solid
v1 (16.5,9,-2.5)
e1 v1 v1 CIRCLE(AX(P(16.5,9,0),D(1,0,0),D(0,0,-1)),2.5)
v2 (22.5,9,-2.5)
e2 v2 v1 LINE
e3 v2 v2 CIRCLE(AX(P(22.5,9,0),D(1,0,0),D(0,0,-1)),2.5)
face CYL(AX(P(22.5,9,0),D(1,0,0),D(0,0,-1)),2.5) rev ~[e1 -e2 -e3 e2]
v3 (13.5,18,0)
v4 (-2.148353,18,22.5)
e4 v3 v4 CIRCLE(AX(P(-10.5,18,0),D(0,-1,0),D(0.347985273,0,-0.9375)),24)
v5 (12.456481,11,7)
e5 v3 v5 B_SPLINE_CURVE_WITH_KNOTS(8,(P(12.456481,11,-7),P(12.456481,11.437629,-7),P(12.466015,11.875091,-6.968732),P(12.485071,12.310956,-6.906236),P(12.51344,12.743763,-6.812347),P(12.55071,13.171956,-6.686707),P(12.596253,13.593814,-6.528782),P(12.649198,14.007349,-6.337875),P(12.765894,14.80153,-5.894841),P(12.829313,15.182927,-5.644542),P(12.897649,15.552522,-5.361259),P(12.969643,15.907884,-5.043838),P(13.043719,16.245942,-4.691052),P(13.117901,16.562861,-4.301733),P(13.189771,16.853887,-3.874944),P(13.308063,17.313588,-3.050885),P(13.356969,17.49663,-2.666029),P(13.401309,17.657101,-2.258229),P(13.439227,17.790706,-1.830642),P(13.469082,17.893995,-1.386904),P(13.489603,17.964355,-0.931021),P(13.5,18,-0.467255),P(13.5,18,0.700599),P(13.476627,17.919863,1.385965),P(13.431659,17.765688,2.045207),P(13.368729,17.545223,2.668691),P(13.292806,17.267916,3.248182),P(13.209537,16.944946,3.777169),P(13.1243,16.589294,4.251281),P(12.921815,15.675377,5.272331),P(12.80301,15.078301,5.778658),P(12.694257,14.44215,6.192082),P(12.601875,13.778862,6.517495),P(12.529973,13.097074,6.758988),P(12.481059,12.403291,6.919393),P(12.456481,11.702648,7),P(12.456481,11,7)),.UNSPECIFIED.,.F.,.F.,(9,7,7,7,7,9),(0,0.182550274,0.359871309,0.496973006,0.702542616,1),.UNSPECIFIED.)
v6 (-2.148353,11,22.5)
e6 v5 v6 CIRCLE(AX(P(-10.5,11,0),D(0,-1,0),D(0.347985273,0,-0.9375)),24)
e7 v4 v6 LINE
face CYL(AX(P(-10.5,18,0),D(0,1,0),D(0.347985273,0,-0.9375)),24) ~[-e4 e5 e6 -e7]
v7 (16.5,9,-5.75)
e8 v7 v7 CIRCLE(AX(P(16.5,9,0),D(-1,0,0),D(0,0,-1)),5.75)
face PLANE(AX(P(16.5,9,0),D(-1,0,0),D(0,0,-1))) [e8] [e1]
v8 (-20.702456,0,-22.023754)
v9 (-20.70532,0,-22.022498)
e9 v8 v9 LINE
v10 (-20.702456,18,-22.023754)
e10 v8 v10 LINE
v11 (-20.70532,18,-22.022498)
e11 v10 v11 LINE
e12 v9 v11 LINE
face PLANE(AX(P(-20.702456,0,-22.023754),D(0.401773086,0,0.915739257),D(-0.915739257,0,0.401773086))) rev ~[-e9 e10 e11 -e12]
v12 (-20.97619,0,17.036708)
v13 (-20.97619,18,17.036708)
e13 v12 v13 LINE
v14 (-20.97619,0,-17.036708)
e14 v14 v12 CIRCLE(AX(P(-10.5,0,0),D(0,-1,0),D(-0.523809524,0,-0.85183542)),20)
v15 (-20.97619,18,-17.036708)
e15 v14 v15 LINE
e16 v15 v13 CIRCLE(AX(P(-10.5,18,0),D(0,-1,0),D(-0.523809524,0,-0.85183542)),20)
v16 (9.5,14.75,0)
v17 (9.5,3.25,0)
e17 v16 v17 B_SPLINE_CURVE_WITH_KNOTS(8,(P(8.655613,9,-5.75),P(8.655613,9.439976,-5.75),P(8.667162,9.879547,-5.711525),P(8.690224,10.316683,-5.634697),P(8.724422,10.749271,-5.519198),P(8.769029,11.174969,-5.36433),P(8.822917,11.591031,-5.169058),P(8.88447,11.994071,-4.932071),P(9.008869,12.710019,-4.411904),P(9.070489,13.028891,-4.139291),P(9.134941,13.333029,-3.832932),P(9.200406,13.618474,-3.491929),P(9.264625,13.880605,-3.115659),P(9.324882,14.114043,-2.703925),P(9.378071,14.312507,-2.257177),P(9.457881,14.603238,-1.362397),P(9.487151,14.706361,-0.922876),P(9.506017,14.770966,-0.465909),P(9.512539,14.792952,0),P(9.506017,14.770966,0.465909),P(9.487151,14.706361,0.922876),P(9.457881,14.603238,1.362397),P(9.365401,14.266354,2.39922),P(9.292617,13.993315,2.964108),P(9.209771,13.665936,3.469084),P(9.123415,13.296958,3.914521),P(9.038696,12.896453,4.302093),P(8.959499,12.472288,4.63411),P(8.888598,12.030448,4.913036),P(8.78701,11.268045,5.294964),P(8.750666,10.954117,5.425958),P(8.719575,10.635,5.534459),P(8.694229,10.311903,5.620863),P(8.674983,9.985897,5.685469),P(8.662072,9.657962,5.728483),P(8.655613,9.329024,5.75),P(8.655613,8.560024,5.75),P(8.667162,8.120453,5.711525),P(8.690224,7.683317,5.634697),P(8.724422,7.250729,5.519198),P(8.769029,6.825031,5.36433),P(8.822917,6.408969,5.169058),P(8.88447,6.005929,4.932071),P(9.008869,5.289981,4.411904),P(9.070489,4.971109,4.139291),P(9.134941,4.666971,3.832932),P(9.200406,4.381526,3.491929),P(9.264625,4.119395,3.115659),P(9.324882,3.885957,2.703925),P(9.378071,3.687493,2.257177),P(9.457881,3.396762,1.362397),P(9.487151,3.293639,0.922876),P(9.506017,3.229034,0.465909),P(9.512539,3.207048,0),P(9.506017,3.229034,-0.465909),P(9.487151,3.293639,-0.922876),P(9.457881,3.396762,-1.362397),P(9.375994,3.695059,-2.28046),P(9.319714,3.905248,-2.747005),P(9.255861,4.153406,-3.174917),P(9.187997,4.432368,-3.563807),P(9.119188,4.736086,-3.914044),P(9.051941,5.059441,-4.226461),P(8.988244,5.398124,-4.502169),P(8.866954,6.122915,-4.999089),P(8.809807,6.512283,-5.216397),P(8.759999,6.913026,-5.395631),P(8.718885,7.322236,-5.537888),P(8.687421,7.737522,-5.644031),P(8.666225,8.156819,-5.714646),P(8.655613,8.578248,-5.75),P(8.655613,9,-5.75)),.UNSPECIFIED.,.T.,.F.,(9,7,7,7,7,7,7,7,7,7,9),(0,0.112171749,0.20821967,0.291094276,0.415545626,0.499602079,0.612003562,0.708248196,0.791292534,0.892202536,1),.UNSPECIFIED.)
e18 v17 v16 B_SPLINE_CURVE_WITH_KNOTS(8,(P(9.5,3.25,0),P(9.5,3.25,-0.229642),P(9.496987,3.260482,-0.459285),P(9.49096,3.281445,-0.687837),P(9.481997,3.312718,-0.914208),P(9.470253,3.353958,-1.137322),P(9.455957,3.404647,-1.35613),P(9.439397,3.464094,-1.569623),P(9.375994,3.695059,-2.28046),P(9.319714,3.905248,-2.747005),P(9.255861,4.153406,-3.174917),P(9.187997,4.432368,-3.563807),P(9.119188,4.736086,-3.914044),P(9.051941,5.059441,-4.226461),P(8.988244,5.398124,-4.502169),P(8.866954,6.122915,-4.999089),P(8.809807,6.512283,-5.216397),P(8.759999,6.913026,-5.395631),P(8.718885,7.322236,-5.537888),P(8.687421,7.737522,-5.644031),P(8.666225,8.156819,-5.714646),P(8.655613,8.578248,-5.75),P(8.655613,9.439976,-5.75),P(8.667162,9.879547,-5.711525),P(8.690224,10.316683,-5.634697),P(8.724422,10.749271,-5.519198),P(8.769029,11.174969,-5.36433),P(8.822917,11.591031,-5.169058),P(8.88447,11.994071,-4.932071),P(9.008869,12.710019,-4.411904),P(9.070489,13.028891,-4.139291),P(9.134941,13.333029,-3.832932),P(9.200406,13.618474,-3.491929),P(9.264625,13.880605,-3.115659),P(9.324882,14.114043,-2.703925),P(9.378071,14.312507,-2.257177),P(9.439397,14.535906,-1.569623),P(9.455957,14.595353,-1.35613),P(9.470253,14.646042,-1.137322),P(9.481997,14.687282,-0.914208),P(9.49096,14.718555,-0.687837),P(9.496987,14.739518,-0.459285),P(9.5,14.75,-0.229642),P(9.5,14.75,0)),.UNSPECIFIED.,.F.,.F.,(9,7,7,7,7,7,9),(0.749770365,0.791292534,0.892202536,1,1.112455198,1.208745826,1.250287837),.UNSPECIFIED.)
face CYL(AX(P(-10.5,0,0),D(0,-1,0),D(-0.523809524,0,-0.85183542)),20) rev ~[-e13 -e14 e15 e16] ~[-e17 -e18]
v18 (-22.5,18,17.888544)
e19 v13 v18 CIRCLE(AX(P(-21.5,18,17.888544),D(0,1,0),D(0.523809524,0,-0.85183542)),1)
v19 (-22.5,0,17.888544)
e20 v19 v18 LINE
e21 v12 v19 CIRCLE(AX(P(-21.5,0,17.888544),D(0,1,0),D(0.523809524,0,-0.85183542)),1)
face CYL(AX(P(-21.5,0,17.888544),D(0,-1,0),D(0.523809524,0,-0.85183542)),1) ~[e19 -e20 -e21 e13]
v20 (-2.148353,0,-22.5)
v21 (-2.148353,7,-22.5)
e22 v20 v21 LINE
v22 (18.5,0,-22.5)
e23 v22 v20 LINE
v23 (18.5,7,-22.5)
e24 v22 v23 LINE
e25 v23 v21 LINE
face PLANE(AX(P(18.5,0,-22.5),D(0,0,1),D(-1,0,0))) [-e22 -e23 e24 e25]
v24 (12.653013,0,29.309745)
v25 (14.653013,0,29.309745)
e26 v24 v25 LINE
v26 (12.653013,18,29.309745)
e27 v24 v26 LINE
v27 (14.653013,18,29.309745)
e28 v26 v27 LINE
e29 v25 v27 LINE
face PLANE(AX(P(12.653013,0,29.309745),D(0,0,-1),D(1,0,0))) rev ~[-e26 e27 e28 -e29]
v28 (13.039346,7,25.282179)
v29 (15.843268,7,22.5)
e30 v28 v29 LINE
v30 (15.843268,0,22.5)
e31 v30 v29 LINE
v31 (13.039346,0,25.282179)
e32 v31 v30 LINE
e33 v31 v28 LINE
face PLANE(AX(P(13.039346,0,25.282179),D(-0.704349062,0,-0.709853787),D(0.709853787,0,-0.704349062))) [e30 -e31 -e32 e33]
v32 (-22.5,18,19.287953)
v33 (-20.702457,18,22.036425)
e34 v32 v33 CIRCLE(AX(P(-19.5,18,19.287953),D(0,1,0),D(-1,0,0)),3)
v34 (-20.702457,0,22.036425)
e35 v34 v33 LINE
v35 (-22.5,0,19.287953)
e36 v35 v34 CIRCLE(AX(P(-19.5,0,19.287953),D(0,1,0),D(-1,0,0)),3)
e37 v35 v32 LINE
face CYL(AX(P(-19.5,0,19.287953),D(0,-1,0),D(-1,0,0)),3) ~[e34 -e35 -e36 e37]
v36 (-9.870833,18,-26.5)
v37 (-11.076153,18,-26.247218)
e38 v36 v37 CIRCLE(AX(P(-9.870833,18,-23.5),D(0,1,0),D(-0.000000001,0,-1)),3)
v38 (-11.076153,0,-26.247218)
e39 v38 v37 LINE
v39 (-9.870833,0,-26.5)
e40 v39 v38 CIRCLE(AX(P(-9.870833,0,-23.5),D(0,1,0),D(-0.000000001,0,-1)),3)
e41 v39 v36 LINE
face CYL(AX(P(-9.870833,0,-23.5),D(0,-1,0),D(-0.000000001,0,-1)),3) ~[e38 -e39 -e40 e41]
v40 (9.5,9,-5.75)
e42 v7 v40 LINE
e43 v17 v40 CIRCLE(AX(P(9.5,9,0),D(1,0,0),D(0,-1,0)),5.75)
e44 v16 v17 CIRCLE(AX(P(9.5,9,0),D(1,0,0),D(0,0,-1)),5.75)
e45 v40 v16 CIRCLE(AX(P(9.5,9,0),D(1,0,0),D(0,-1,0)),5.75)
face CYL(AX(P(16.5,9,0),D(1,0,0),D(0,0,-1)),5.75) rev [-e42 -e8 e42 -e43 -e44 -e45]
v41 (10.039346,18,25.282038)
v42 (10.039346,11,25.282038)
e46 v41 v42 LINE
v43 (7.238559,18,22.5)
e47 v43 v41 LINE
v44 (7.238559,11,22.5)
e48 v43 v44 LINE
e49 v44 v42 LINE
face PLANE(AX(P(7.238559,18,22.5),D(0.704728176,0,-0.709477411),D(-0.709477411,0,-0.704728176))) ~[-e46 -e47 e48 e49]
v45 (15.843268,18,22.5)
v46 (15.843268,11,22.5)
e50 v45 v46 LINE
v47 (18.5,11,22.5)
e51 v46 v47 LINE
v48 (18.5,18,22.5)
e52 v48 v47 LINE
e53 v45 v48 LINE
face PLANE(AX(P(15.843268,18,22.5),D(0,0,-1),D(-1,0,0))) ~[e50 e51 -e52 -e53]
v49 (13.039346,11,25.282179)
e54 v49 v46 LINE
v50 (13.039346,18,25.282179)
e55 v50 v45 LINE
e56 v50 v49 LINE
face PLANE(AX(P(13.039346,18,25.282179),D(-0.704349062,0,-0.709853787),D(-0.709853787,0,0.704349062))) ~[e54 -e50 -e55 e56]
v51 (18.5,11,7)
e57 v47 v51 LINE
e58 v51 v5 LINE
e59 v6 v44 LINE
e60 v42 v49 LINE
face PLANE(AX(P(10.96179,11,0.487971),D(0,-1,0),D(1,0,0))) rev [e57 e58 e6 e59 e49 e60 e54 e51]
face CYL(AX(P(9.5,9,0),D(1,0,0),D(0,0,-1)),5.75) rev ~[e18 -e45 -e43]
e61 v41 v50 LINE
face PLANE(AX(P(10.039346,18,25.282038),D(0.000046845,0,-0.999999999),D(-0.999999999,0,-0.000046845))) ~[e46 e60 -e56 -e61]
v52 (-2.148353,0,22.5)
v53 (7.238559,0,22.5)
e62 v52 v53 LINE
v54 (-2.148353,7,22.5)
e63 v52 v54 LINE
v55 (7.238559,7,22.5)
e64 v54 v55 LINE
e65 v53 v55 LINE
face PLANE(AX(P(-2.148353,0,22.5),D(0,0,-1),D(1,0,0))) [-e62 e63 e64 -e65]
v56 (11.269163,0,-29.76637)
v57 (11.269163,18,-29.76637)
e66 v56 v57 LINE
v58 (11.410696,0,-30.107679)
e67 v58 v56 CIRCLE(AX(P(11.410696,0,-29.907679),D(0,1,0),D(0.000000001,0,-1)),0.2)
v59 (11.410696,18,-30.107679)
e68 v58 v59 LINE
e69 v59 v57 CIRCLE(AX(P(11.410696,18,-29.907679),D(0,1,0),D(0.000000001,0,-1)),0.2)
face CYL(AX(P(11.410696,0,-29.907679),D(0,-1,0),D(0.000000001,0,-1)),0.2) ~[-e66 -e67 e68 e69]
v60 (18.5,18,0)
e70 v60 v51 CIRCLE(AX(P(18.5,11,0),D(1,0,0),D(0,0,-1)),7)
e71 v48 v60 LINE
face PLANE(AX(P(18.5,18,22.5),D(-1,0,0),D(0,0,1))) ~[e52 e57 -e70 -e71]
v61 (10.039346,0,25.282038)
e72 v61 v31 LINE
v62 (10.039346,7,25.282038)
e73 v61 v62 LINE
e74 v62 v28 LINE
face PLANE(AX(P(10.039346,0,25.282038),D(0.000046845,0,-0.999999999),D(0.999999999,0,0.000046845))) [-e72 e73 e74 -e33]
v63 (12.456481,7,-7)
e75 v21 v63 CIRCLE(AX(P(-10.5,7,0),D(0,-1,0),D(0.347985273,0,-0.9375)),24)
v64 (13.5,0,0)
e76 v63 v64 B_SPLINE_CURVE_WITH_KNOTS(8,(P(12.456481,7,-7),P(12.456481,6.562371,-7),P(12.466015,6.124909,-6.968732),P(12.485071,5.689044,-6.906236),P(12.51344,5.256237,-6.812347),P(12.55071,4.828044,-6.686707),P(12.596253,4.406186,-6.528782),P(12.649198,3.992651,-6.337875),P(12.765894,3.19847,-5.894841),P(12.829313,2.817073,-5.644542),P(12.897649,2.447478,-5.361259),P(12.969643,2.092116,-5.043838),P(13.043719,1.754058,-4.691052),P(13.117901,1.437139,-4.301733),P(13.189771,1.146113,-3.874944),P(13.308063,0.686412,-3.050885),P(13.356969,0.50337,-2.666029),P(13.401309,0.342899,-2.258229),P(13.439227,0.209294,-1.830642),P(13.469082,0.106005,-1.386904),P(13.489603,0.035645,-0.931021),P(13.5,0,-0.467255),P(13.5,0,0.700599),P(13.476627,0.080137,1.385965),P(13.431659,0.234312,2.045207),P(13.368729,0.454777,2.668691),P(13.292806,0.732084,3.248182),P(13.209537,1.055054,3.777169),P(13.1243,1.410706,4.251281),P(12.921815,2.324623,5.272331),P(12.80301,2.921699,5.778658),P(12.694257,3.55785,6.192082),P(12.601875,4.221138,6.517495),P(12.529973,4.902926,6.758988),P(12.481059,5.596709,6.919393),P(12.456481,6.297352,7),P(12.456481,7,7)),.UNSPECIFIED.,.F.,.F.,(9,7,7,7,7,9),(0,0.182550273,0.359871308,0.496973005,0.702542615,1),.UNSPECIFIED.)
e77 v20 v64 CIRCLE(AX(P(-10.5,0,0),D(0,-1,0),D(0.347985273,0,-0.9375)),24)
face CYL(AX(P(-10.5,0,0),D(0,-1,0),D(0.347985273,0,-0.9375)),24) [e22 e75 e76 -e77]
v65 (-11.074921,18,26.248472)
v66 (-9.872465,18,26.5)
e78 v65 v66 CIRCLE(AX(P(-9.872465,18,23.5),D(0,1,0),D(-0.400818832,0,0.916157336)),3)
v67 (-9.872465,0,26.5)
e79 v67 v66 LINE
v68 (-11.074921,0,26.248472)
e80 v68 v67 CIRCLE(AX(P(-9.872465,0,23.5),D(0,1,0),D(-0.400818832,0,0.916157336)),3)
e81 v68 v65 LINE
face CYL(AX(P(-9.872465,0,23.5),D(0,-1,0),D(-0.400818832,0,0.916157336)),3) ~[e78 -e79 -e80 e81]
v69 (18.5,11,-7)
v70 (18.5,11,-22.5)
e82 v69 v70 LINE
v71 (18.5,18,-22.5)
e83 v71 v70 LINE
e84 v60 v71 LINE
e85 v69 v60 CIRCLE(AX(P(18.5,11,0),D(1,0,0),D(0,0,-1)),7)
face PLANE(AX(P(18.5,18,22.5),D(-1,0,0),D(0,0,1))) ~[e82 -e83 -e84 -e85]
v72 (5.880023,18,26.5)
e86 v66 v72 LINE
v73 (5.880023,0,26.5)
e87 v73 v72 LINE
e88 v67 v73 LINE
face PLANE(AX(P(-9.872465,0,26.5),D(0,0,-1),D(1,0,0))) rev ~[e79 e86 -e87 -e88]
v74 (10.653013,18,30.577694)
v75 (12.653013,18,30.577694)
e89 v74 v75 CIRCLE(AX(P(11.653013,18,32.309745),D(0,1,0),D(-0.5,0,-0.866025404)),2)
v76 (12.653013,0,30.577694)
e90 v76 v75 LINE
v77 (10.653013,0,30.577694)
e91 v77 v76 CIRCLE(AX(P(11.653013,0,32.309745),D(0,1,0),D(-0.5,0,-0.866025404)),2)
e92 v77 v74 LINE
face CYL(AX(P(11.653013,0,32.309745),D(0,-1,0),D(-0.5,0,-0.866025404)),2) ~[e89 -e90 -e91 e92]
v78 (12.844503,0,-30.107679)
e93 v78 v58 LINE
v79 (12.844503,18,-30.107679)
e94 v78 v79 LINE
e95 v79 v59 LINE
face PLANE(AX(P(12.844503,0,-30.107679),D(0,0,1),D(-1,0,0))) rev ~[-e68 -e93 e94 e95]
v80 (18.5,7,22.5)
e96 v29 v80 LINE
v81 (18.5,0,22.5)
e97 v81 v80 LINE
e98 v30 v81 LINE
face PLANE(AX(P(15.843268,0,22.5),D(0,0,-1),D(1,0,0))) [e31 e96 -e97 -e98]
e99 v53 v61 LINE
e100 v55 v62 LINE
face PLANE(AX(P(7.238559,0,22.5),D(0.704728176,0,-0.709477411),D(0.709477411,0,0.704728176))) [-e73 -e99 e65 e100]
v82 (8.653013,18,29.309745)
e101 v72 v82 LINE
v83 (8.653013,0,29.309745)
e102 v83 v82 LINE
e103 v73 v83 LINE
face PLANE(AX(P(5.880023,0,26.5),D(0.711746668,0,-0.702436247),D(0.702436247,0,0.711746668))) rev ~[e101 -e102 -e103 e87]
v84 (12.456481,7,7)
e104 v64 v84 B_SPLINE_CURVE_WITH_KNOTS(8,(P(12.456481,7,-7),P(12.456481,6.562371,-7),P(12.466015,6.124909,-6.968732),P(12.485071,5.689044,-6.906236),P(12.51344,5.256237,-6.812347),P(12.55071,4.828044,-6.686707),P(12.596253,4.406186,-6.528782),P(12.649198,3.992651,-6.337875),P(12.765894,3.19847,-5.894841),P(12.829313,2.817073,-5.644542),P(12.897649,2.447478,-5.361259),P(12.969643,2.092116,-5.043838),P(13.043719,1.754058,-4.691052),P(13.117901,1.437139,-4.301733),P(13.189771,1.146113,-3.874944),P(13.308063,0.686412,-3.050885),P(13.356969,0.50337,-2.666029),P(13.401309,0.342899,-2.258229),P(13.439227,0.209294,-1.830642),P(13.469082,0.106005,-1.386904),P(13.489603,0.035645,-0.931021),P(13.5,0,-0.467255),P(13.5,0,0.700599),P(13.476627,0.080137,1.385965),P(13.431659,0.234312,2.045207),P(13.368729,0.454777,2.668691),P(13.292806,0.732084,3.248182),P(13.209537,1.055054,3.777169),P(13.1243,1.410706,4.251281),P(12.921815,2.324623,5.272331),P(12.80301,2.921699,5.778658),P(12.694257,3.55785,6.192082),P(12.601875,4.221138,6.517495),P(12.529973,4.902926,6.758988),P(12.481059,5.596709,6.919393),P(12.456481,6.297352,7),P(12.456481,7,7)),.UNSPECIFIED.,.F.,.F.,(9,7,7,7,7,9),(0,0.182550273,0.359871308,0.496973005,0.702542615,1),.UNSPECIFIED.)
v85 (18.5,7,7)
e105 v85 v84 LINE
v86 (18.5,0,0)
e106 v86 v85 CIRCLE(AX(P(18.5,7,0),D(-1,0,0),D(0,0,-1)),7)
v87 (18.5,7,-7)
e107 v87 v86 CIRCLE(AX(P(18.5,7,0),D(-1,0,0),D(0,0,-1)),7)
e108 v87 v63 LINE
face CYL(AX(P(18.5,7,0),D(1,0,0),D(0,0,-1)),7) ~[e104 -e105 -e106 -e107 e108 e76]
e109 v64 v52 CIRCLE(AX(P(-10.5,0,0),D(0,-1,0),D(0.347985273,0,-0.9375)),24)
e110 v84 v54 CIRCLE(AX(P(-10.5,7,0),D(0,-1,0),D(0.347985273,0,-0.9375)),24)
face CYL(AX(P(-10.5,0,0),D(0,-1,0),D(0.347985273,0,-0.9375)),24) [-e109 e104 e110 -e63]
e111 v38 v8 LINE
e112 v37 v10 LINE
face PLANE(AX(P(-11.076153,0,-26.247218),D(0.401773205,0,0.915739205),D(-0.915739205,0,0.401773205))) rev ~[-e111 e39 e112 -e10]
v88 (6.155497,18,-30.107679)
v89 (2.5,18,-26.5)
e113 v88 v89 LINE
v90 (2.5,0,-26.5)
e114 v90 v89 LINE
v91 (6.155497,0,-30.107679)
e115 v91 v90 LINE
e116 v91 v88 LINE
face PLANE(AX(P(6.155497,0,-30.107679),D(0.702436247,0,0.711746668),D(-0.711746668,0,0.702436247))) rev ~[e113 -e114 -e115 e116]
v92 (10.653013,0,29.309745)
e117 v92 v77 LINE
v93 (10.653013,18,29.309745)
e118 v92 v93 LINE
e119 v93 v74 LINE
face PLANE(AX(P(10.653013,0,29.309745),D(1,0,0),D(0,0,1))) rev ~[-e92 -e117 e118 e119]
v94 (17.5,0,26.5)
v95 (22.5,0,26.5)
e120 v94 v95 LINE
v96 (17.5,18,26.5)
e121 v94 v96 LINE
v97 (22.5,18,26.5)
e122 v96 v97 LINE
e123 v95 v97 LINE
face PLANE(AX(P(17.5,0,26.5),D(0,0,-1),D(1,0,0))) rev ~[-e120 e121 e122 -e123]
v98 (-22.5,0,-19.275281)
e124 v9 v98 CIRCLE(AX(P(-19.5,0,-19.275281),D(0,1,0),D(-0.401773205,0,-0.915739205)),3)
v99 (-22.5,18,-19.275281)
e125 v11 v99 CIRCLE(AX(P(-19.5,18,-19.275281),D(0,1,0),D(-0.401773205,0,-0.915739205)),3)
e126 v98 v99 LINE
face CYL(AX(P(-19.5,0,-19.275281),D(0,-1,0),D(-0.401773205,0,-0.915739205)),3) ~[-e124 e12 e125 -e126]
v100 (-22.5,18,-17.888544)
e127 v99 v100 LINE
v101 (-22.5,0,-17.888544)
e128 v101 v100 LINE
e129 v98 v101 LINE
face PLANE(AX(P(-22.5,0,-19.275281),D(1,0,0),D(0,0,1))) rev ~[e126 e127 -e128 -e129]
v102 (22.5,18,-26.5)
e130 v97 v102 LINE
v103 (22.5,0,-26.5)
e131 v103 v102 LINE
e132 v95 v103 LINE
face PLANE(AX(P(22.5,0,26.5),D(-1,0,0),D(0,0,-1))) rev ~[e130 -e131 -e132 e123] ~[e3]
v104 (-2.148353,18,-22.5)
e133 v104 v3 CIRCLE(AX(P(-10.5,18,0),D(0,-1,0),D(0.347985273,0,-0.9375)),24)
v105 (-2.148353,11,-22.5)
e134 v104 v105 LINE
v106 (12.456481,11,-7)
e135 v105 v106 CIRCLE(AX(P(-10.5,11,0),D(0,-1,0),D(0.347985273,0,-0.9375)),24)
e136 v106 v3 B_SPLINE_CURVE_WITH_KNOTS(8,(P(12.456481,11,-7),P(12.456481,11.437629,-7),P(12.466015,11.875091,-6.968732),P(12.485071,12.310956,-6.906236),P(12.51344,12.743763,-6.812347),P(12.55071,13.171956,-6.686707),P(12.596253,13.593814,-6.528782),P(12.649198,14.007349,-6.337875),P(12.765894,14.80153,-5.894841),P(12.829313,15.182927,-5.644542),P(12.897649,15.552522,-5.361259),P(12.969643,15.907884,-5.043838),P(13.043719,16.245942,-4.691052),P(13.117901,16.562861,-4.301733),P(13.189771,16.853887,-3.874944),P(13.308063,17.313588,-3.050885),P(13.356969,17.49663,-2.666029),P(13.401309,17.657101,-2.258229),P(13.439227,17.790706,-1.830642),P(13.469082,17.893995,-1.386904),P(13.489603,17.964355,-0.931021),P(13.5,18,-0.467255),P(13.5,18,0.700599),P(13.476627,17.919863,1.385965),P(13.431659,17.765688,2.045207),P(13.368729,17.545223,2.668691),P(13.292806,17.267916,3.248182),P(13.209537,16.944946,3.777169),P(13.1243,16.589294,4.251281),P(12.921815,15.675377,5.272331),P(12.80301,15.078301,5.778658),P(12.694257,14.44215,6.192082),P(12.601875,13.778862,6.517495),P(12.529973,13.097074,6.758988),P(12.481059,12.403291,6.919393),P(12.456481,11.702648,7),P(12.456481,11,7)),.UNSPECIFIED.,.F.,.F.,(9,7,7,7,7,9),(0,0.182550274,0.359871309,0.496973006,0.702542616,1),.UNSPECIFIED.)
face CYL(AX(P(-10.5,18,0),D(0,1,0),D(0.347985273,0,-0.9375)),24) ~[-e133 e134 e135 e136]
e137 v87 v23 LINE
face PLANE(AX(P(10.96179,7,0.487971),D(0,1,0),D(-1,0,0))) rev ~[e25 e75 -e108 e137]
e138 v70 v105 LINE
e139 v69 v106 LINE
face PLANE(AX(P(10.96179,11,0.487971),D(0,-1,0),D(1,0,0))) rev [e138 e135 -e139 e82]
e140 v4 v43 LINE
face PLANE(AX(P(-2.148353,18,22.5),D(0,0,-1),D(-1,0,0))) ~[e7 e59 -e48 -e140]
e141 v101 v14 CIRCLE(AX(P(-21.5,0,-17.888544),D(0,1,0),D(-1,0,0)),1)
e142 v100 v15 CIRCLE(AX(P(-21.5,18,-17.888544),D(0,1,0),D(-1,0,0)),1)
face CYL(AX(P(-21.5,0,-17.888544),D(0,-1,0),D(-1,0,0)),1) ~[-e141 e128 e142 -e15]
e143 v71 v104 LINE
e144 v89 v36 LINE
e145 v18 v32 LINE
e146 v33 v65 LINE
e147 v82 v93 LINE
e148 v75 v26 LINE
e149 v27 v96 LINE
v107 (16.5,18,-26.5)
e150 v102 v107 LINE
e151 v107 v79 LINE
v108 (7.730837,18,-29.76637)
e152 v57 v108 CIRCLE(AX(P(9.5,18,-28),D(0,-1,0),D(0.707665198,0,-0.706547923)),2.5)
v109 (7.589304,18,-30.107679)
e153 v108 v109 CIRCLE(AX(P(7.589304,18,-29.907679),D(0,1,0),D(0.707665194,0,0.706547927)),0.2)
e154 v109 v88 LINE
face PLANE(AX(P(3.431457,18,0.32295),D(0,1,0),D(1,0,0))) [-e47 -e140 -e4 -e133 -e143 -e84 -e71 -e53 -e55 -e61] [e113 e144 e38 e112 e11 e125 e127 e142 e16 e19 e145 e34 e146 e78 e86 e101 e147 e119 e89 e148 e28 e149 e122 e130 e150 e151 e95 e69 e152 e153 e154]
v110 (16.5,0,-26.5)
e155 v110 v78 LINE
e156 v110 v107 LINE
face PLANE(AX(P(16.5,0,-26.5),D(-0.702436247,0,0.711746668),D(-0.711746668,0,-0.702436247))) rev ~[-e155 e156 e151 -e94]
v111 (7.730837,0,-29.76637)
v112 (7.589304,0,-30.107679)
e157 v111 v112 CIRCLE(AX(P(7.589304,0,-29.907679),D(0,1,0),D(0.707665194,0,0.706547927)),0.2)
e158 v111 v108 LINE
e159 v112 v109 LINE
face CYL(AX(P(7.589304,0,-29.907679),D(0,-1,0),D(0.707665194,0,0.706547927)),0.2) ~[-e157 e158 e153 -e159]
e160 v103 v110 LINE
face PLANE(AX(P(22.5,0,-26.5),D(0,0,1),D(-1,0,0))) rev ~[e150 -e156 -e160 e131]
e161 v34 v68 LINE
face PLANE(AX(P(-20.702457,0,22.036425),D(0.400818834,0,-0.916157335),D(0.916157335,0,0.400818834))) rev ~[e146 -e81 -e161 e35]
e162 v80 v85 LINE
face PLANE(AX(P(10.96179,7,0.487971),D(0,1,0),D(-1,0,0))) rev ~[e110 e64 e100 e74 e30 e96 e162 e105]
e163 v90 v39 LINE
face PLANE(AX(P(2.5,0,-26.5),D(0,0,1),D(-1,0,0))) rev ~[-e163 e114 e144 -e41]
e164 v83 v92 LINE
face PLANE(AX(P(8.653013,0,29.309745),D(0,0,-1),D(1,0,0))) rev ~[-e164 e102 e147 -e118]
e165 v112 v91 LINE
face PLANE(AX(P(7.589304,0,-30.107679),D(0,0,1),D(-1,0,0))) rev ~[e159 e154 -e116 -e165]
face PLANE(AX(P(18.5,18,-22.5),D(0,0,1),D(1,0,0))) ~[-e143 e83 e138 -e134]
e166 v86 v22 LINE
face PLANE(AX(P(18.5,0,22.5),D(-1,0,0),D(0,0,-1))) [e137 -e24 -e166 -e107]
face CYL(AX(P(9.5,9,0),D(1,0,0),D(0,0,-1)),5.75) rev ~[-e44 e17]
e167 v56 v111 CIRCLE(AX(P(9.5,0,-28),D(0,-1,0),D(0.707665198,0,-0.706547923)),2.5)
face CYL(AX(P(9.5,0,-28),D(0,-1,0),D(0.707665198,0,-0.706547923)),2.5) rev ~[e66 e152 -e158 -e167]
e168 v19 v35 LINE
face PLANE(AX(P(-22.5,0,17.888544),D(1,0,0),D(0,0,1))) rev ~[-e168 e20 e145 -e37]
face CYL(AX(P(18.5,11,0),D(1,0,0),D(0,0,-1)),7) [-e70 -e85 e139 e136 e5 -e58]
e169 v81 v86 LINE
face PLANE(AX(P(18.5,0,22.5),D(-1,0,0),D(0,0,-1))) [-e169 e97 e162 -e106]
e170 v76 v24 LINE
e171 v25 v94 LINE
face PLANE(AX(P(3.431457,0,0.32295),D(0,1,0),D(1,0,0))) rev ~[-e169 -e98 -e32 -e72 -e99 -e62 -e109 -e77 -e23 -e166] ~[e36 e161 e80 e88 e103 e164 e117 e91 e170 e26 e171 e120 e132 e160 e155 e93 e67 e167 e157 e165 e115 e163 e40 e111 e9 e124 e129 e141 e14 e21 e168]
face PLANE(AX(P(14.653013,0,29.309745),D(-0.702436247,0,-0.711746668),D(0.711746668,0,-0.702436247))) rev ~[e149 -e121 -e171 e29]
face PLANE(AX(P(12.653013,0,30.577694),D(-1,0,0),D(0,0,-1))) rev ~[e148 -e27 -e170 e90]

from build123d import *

# Parameters (mm, degrees)
BOSS_EXTRUDE1_DEPTH = 18
CUT_EXTRUDE1_DEPTH  = 7
BOSS_EXTRUDE2_DEPTH = 7
SKETCH4_R           = 2.5
CUT_EXTRUDE2_DEPTH  = 6
SKETCH5_R           = 5.75
CUT_EXTRUDE3_DEPTH  = 7
CUT_EXTRUDE4_START  = -7
SKETCH6_R           = 5.75
CUT_EXTRUDE4_DEPTH  = 7


with BuildPart() as part:
    # Sketch1 → Boss-Extrude1 (new body)
    with BuildSketch(Plane(origin=(0, 0, 0), x_dir=(1, 0, 0), z_dir=(0, 1, 0))):
        with BuildLine():
            Line((10.653013329, -29.309744988), (10.653013329, -30.57769418))
            ThreePointArc((10.653013329, -30.57769418), (11.653013329, -34.309744988), (12.653013329, -30.57769418))
            Line((12.653013329, -30.57769418), (12.653013329, -29.309744988))
            Line((12.653013329, -29.309744988), (14.653013329, -29.309744988))
            Line((14.653013329, -29.309744988), (17.5, -26.5))
            Line((17.5, -26.5), (22.5, -26.5))
            Line((22.5, -26.5), (22.5, 26.5))
            Line((22.5, 26.5), (16.5, 26.5))
            Line((16.5, 26.5), (12.844502727, 30.107679392))
            Line((12.844502727, 30.107679392), (11.410696035, 30.107679392))
            ThreePointArc((11.410696035, 30.107679392), (11.225950376, 29.984289062), (11.269162996, 29.766369807))
            ThreePointArc((11.269162996, 29.766369807), (9.5, 25.5), (7.730837004, 29.766369807))
            ThreePointArc((7.730837004, 29.766369807), (7.774049624, 29.984289062), (7.589303965, 30.107679392))
            Line((7.589303965, 30.107679392), (6.155497273, 30.107679392))
            Line((6.155497273, 30.107679392), (2.5, 26.5))
            Line((2.5, 26.5), (-9.870833143, 26.5))
            ThreePointArc((-9.870833143, 26.5), (-10.486603861, 26.436124388), (-11.076152757, 26.247217616))
            Line((-11.076152757, 26.247217616), (-20.702456422, 22.023754373))
            Line((-20.702456422, 22.023754373), (-20.705319614, 22.022498171))
            ThreePointArc((-20.705319614, 22.022498171), (-22.011569115, 20.916018371), (-22.5, 19.275280555))
            Line((-22.5, 19.275280555), (-22.5, 17.88854382))
            ThreePointArc((-22.5, 17.88854382), (-21.987950036, 17.015672259), (-20.976190476, 17.0367084))
            ThreePointArc((-20.976190476, 17.0367084), (9.5, 0), (-20.976190476, -17.0367084))
            ThreePointArc((-20.976190476, -17.0367084), (-21.987950036, -17.015672259), (-22.5, -17.88854382))
            Line((-22.5, -17.88854382), (-22.5, -19.287953276))
            ThreePointArc((-22.5, -19.287953276), (-22.010713993, -20.929999331), (-20.702456502, -22.03642528))
            Line((-20.702456502, -22.03642528), (-11.074921132, -26.248472005))
            ThreePointArc((-11.074921132, -26.248472005), (-10.486705619, -26.43644479), (-9.87246463, -26.5))
            Line((-9.87246463, -26.5), (5.880022863, -26.5))
            Line((5.880022863, -26.5), (8.653013329, -29.309744988))
            Line((8.653013329, -29.309744988), (10.653013329, -29.309744988))
        make_face()
    extrude(amount=BOSS_EXTRUDE1_DEPTH)

    # Sketch2 → Cut-Extrude1 (cut)
    with BuildSketch(Plane.XZ):
        with BuildLine():
            Line((18.5, 22.5), (18.5, -22.5))
            Line((18.5, -22.5), (-2.148353456, -22.5))
            ThreePointArc((-2.148353456, -22.5), (13.5, 0), (-2.148353456, 22.5))
            Line((-2.148353456, 22.5), (7.238559187, 22.5))
            Line((7.238559187, 22.5), (10.039345887, 25.282038261))
            Line((10.039345887, 25.282038261), (13.039345883, 25.282178795))
            Line((13.039345883, 25.282178795), (15.843268341, 22.5))
            Line((15.843268341, 22.5), (18.5, 22.5))
        make_face()
    cut_extrude1 = extrude(amount=-CUT_EXTRUDE1_DEPTH, mode=Mode.SUBTRACT)

    # Mirror1: Cut-Extrude1 across plane
    add(cut_extrude1.mirror(Plane(origin=(0, 9, 0), x_dir=(0, 0, 1), z_dir=(0, -1, 0))), mode=Mode.SUBTRACT)

    # Sketch3 → Boss-Extrude2 (add)
    with BuildSketch(Plane.ZY.offset(-18.5)):
        with BuildLine():
            Line((7, 7), (-7, 7))
            ThreePointArc((-7, 7), (0, 0), (7, 7))
        make_face()
    boss_extrude2 = extrude(amount=BOSS_EXTRUDE2_DEPTH)

    # Mirror2: Boss-Extrude2 across plane
    add(boss_extrude2.mirror(Plane(origin=(0, 9, 0), x_dir=(0, 0, 1), z_dir=(0, -1, 0))))

    # Sketch4 → Cut-Extrude2 (cut)
    with BuildSketch(Plane(origin=(22.5, 0, 0), x_dir=(0, 0, -1), z_dir=(1, 0, 0))):
        with Locations((0, 9)):
            Circle(SKETCH4_R)
    extrude(amount=-CUT_EXTRUDE2_DEPTH, mode=Mode.SUBTRACT)

    # Sketch5 → Cut-Extrude3 (cut)
    with BuildSketch(Plane(origin=(9.5, 0, 0), x_dir=(0, 0, -1), z_dir=(1, 0, 0))):
        with Locations((0, 9)):
            Circle(SKETCH5_R)
    extrude(amount=-CUT_EXTRUDE3_DEPTH, mode=Mode.SUBTRACT)

    # Sketch6 → Cut-Extrude4 (cut)
    with BuildSketch(Plane.ZY.offset(-9.5).offset(CUT_EXTRUDE4_START)):
        with Locations(Location((0, 9, 0), (0, 0, 180))):
            Circle(SKETCH6_R)
    extrude(amount=CUT_EXTRUDE4_DEPTH, mode=Mode.SUBTRACT)


solid = part.part
